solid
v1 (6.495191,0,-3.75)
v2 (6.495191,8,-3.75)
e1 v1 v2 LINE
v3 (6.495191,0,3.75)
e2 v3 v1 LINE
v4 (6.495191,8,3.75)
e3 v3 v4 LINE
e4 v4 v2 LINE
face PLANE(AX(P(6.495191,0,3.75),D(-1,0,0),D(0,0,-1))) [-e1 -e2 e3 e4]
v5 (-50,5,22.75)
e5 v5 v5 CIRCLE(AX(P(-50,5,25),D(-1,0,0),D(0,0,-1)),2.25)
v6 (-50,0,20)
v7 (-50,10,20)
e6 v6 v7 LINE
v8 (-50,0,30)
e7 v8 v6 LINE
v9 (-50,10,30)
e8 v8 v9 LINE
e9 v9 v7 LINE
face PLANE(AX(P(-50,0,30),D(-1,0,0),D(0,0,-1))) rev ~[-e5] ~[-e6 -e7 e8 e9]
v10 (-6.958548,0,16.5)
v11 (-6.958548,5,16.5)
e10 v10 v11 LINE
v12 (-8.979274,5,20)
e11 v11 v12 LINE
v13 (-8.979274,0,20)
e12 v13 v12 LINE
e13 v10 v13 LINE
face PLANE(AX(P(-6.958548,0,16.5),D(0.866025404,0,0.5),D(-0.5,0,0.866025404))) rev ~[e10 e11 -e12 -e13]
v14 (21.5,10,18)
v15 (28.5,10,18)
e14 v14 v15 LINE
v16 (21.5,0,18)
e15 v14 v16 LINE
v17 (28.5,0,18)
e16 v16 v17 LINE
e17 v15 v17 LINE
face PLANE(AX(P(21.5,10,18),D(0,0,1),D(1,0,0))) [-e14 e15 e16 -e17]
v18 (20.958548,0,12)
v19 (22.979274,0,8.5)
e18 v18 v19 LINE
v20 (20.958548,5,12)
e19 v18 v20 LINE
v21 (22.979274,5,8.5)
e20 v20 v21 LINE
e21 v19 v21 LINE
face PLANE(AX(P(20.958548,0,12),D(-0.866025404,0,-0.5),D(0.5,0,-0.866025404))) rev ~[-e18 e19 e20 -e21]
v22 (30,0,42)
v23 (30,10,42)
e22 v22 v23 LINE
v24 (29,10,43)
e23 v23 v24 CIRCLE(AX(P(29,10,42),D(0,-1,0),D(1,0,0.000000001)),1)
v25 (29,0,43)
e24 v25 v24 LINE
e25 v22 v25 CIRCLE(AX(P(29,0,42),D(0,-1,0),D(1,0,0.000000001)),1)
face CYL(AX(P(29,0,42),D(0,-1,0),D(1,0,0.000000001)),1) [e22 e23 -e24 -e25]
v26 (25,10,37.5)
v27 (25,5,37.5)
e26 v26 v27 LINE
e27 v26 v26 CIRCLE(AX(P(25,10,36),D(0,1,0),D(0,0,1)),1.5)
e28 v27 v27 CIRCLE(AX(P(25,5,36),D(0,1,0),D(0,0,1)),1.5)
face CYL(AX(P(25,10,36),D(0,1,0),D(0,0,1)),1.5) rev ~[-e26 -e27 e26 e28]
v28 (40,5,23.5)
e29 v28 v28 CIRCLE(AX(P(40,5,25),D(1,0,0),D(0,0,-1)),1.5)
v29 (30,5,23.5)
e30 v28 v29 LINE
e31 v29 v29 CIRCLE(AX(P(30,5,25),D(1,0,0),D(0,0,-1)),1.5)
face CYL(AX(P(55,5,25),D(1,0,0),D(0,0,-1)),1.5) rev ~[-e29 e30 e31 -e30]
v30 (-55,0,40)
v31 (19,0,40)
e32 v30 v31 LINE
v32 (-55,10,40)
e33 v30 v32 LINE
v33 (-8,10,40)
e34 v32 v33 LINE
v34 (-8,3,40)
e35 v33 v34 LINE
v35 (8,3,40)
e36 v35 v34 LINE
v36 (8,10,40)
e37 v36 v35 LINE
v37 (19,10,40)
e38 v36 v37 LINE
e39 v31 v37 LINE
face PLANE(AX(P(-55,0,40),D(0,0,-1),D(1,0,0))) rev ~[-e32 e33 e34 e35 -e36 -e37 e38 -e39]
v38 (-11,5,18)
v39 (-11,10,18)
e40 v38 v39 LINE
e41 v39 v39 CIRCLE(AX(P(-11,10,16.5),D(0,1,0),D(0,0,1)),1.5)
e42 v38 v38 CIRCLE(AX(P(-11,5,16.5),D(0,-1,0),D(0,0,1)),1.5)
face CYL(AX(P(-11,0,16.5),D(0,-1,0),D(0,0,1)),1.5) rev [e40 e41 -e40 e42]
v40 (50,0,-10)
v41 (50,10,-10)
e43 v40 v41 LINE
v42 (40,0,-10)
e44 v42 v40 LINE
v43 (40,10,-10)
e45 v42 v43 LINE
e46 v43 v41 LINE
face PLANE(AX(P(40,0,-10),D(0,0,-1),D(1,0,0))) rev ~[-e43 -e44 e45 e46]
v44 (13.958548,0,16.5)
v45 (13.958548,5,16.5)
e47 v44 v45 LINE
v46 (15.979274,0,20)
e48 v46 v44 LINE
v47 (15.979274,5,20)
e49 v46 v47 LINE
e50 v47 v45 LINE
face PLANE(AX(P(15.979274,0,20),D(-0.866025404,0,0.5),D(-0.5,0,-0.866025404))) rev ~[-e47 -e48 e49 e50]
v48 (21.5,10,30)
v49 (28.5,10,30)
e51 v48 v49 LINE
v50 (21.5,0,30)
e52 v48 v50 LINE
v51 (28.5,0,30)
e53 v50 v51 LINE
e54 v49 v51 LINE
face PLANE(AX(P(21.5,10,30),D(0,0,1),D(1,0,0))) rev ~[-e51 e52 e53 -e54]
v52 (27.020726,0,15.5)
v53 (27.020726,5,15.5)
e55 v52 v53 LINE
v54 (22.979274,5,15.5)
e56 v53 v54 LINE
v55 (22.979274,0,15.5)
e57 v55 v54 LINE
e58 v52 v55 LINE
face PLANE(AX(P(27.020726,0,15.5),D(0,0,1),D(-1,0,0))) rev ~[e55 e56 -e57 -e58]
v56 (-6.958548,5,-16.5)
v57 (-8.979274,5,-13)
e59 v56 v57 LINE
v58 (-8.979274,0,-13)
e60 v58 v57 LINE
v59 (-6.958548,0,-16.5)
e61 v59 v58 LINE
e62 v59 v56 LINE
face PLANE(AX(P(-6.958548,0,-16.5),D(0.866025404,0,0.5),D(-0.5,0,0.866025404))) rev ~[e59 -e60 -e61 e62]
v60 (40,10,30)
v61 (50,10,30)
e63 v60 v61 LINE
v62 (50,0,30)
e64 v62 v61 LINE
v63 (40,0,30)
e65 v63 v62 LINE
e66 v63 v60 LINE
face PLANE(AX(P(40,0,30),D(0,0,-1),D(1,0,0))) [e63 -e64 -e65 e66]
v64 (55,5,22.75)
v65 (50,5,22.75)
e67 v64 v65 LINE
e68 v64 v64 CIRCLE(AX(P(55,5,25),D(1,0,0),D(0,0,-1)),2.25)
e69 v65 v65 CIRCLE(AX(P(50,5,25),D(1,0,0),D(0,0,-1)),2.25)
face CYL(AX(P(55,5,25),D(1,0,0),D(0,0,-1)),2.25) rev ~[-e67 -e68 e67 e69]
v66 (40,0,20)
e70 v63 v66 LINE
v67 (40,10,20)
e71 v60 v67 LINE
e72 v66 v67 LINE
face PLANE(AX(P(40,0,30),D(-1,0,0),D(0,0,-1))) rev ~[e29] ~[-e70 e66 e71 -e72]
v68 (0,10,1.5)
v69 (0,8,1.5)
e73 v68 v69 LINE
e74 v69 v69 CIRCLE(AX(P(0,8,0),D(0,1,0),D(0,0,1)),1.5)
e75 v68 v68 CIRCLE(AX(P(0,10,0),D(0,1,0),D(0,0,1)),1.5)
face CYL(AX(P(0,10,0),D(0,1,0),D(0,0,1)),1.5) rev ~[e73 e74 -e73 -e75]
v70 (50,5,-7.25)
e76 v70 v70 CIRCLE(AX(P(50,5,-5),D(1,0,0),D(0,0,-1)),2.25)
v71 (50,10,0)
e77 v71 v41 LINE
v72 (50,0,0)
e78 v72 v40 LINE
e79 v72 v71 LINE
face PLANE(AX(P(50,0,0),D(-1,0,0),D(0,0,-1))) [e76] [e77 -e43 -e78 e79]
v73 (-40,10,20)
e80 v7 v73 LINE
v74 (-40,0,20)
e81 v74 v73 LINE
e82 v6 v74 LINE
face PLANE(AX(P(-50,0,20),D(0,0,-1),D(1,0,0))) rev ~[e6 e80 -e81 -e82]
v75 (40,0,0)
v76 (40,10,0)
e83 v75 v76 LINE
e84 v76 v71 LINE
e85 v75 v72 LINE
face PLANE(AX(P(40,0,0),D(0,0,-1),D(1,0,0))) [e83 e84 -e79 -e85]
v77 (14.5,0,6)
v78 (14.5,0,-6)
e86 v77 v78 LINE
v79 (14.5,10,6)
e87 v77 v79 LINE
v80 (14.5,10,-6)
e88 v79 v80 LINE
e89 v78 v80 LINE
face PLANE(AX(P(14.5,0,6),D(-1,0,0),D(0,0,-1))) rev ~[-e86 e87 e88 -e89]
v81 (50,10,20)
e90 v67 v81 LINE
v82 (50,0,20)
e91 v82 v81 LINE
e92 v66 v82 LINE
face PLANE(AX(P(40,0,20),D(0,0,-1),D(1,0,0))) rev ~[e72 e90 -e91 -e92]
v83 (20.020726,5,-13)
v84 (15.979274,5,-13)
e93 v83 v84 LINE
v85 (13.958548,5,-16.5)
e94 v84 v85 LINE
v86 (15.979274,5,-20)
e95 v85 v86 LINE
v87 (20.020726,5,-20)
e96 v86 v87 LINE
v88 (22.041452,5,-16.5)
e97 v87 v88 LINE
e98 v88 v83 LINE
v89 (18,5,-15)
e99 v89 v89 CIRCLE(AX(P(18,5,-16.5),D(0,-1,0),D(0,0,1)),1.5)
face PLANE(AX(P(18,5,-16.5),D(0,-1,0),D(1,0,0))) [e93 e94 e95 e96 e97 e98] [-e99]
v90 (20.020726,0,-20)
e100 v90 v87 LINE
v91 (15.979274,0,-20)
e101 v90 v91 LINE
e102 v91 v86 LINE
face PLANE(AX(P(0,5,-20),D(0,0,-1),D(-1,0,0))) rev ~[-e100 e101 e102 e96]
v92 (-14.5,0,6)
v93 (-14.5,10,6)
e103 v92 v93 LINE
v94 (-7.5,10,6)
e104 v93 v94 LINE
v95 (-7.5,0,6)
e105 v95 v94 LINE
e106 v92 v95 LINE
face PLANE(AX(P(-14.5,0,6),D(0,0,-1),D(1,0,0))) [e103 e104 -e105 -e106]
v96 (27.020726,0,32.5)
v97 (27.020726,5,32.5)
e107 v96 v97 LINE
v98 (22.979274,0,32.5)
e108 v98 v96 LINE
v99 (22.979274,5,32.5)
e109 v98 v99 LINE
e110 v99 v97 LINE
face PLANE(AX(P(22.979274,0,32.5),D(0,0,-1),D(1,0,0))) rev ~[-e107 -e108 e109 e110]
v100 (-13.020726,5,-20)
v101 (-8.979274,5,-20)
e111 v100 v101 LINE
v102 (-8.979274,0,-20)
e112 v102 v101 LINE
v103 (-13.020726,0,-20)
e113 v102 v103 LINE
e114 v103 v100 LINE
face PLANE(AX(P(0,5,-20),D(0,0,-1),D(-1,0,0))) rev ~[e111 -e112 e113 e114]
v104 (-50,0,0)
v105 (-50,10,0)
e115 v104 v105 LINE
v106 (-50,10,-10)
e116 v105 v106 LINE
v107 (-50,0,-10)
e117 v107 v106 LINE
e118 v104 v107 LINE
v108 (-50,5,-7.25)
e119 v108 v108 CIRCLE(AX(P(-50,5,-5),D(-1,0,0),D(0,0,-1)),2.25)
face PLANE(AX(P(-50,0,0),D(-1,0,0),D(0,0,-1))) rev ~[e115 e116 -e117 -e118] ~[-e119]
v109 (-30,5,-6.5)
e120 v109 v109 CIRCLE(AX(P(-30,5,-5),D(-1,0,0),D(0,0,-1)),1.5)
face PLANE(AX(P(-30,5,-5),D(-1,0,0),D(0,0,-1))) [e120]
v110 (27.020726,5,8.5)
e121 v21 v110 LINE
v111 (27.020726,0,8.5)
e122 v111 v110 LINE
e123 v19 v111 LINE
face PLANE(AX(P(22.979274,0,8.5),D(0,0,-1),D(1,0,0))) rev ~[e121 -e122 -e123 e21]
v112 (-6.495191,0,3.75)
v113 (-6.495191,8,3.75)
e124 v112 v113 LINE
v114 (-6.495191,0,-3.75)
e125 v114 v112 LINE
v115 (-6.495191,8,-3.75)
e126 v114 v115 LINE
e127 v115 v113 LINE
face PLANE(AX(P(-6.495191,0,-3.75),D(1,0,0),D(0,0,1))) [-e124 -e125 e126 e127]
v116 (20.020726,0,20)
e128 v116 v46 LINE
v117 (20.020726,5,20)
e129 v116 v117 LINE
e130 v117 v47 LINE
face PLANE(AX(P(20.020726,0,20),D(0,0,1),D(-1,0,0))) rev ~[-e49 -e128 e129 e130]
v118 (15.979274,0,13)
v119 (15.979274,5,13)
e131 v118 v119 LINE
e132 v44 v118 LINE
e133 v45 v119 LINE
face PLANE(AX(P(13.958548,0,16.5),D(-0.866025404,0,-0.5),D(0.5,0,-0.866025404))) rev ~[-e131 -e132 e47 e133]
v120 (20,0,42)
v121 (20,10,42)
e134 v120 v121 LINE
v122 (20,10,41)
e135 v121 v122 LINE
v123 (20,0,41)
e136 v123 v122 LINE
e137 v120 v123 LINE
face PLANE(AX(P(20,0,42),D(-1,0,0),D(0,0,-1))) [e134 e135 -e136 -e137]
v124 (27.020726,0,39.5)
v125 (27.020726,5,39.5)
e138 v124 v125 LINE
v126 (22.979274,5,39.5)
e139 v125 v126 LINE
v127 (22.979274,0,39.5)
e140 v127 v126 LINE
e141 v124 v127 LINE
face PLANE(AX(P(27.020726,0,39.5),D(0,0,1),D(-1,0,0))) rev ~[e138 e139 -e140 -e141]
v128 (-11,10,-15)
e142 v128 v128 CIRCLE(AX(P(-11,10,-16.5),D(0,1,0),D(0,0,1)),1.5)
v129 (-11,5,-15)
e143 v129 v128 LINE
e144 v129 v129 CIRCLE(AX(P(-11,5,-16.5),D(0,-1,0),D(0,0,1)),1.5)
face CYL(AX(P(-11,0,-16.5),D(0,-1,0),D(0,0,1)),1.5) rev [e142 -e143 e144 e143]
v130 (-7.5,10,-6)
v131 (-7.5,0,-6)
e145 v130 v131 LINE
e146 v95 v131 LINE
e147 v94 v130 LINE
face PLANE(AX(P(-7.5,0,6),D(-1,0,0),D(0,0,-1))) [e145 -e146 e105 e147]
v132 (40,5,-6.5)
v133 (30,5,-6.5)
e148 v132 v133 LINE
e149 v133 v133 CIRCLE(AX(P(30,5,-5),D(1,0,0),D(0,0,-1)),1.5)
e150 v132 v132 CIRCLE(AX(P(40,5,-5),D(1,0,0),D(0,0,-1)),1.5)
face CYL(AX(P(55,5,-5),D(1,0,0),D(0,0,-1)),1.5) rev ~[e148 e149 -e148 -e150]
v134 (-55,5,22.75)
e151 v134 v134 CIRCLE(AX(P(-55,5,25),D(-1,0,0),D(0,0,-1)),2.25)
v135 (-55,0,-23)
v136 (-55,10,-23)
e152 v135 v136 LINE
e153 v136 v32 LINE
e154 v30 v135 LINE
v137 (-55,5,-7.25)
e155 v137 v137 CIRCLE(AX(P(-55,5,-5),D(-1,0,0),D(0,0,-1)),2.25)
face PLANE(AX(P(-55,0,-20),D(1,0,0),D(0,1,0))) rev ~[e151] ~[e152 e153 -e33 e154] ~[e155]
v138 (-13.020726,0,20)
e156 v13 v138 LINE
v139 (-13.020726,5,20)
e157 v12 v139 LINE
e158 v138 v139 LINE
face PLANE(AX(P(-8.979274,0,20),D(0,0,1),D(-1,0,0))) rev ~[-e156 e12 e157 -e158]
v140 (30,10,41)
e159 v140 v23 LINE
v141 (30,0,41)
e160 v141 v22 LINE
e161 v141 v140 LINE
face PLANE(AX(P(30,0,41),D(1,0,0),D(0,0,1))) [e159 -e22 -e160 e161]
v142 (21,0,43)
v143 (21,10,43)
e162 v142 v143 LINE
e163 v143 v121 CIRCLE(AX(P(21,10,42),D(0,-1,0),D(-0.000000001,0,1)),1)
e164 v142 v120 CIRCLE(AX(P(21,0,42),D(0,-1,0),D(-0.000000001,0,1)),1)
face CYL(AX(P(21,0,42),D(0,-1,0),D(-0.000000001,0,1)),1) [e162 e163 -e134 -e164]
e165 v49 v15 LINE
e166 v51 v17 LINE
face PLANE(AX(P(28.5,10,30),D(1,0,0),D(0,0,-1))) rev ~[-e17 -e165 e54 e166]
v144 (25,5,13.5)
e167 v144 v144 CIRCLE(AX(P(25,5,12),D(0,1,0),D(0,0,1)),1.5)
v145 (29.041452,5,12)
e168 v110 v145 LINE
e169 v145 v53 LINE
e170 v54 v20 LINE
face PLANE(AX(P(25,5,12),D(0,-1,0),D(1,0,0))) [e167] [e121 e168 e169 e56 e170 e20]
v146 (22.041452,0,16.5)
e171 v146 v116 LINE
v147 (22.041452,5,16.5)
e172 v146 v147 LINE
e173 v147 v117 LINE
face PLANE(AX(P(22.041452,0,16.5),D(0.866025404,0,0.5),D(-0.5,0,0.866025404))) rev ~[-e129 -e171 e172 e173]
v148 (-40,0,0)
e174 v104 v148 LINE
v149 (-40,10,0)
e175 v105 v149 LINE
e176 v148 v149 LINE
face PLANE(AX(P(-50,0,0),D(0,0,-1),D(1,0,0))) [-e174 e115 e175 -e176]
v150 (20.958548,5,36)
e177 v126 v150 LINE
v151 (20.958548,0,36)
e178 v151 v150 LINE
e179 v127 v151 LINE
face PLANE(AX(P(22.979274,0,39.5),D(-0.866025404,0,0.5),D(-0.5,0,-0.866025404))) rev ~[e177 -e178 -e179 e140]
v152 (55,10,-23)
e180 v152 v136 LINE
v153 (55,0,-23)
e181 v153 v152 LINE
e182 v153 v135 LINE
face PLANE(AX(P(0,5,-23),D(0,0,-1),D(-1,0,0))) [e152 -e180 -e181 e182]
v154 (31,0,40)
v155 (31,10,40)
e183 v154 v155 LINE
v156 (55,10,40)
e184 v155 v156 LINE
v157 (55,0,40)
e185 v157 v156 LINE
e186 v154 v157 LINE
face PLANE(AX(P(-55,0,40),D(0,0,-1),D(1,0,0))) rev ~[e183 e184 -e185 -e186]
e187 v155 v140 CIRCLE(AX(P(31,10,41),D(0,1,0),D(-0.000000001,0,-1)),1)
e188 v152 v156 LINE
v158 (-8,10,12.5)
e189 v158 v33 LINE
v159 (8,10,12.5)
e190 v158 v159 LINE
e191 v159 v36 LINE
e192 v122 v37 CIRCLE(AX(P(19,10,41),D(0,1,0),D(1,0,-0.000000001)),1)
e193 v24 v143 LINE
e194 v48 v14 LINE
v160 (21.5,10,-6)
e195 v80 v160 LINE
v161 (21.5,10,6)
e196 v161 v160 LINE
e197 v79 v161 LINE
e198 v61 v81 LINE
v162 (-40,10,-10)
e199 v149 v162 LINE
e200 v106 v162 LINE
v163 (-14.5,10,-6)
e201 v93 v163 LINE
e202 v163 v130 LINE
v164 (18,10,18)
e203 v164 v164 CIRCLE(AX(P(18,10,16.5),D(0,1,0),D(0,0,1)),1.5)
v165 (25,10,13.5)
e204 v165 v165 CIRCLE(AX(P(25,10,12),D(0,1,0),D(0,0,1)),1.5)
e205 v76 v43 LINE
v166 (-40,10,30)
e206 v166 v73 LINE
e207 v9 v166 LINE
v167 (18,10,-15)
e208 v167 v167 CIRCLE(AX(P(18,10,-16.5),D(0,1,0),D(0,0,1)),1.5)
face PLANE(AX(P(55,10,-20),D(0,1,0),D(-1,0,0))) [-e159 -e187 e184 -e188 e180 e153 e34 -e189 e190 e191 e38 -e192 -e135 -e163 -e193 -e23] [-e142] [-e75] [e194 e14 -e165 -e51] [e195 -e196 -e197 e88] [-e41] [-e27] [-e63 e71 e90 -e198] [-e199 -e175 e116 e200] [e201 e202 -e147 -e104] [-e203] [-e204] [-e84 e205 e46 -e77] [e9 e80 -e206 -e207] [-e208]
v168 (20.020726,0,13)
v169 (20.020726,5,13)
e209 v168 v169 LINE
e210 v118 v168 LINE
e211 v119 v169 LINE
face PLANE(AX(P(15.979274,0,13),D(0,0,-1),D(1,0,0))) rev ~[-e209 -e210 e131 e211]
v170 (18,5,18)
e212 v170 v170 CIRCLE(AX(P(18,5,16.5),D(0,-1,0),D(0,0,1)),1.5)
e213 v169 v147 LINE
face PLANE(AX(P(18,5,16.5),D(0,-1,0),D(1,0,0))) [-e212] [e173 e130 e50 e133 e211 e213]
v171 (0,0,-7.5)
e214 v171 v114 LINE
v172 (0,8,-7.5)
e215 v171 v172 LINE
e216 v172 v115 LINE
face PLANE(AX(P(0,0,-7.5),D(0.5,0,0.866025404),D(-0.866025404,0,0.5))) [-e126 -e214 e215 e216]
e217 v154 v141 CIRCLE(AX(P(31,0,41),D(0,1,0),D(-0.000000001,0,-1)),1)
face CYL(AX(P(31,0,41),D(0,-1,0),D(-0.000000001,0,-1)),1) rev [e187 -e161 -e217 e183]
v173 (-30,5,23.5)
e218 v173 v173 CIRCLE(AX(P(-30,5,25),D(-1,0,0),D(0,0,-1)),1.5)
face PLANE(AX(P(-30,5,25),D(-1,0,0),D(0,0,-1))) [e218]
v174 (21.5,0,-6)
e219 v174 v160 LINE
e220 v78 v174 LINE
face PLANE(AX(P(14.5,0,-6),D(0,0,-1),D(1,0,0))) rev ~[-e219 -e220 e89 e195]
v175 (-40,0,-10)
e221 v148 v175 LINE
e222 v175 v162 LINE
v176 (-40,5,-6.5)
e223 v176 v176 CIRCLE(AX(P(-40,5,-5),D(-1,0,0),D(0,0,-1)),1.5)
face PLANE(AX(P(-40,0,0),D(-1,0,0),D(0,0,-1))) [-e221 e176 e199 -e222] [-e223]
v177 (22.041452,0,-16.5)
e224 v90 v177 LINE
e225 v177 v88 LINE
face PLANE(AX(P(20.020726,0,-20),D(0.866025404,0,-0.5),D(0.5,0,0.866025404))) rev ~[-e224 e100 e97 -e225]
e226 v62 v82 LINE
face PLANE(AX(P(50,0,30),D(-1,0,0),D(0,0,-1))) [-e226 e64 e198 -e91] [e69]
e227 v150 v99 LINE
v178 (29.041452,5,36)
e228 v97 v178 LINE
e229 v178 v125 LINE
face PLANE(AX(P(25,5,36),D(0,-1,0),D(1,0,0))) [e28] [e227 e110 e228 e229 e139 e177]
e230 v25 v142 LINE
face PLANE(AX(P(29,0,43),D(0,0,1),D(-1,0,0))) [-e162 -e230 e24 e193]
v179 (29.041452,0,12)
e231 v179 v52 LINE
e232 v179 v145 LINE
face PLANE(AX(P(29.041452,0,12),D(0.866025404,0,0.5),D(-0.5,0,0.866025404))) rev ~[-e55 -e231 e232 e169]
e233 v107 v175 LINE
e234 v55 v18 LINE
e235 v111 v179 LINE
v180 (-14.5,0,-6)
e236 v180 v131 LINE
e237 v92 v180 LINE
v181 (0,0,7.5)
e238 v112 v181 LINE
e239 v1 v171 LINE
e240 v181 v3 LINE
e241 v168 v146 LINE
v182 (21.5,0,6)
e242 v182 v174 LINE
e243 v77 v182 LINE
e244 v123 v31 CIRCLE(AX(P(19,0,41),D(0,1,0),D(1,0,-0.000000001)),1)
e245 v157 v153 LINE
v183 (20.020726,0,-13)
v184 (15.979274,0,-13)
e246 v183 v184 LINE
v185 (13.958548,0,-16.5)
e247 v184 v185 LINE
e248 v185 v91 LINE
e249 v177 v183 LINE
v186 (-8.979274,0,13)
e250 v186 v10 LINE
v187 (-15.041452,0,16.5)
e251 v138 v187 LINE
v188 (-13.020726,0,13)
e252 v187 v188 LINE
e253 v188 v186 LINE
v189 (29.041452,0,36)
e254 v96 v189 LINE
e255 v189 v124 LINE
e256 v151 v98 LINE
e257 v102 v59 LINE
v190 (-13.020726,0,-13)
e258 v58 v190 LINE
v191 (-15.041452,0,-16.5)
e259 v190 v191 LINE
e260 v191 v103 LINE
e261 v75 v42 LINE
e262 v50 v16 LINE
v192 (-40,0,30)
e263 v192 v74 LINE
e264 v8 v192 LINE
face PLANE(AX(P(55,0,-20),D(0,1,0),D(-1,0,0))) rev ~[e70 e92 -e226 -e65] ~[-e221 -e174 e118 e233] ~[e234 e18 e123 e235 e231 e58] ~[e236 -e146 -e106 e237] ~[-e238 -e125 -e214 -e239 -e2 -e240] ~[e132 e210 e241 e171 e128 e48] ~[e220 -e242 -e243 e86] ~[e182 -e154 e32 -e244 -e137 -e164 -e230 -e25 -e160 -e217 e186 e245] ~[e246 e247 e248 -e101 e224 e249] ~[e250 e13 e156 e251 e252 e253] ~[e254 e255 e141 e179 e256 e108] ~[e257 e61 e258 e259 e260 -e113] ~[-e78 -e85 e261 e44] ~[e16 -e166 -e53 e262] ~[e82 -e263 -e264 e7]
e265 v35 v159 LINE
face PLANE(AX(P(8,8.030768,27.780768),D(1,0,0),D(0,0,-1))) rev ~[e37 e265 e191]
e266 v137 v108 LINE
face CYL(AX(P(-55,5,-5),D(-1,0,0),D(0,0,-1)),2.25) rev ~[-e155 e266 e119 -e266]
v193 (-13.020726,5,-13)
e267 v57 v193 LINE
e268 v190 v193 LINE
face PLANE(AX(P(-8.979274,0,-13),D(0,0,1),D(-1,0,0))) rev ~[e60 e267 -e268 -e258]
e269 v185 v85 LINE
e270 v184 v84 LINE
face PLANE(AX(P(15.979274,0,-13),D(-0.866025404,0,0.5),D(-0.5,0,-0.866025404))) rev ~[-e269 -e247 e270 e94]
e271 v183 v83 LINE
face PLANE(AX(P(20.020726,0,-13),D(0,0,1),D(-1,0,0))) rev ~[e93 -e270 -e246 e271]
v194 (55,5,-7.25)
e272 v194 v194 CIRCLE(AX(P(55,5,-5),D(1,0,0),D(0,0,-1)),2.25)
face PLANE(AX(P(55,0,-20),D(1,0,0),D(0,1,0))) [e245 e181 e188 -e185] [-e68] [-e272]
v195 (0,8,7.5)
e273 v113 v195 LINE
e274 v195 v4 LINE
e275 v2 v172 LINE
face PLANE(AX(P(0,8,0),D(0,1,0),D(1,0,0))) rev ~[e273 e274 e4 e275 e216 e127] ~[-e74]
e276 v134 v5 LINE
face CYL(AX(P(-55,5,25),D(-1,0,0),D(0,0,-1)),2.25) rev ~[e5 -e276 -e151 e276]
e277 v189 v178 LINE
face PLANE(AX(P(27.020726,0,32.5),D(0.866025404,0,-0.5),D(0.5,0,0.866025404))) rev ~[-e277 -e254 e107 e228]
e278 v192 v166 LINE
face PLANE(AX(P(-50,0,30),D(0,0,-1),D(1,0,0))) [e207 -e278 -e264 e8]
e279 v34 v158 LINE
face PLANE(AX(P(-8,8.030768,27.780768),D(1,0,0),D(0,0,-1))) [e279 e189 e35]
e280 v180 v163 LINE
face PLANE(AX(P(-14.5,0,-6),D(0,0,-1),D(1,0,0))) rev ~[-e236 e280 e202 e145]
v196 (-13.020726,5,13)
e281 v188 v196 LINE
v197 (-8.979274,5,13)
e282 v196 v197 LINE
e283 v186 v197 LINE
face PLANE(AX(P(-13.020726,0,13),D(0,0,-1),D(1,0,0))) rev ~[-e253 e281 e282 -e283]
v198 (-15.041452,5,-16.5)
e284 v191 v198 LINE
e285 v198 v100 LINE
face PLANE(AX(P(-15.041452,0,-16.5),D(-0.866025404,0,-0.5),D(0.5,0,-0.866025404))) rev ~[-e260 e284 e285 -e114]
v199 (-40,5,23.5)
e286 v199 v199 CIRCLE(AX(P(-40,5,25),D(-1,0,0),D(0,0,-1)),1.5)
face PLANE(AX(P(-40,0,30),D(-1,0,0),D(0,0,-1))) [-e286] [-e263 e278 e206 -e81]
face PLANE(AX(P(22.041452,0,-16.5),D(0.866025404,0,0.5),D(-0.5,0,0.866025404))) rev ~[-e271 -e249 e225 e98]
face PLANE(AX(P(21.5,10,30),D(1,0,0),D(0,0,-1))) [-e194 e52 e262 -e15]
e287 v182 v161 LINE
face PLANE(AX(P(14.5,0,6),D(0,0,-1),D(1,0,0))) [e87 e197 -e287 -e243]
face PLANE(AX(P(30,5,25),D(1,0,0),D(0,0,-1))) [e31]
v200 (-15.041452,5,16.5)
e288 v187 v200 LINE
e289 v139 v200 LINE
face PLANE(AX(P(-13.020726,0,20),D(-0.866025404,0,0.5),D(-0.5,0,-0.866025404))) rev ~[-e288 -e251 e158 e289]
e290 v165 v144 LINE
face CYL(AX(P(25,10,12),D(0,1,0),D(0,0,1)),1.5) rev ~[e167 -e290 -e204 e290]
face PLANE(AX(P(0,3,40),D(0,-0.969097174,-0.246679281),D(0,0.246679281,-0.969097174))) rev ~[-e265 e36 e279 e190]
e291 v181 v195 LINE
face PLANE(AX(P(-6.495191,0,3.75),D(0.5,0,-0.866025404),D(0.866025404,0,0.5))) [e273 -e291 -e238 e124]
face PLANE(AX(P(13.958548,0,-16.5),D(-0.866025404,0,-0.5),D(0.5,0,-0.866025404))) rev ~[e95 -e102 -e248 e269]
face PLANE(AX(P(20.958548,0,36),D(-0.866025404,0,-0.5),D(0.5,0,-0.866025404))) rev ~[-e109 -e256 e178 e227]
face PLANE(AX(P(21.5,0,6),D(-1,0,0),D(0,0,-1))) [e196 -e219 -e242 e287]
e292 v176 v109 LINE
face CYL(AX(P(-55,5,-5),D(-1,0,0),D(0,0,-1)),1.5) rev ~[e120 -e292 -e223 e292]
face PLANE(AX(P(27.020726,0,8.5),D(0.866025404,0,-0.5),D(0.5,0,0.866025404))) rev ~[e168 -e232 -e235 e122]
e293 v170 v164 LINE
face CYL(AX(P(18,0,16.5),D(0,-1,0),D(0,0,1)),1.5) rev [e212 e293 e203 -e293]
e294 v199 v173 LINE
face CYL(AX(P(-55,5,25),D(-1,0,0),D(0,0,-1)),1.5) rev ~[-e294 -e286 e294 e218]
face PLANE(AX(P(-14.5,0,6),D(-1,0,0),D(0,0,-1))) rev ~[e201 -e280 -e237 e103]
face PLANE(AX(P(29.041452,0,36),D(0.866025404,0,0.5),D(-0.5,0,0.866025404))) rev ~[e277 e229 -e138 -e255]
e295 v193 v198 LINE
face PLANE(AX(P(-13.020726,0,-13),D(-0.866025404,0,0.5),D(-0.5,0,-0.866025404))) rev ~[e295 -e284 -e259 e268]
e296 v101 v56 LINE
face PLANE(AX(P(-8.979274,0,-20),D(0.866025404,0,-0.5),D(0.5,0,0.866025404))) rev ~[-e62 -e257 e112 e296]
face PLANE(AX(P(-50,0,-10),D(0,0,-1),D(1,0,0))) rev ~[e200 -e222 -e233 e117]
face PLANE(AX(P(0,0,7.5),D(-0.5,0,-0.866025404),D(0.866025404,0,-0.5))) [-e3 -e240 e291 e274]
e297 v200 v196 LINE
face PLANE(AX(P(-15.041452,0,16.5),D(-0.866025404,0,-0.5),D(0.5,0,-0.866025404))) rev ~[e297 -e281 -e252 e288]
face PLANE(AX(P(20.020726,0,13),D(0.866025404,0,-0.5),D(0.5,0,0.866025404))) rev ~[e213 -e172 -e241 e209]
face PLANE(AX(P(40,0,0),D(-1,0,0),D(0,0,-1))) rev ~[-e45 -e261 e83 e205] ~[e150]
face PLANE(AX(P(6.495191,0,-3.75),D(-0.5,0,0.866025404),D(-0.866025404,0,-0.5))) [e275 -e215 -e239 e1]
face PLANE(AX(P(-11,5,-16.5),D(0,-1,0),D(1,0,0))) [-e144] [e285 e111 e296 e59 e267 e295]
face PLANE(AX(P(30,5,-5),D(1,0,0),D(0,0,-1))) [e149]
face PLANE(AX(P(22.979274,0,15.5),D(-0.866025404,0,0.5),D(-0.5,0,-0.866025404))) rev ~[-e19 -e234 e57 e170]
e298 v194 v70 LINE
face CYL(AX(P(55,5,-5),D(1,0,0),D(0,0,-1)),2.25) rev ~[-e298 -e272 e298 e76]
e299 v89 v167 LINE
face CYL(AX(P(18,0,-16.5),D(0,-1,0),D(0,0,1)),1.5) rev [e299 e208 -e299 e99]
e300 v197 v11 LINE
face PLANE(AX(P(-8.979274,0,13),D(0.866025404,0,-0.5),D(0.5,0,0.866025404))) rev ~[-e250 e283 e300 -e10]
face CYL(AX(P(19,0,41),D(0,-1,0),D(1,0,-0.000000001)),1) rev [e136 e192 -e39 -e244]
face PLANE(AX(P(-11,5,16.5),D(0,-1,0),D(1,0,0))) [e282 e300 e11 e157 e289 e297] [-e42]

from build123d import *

# Parameters (mm, degrees)
CROQUIS1_W              = 80
CROQUIS1_H              = 60
CROQUIS1_R              = 1.5
CROQUIS1_W_2            = 7
CROQUIS1_H_2            = 25
CROQUIS1_W_3            = 10
CROQUIS1_H_3            = 20
CROQUIS1_H_4            = 10
CROQUIS1_W_4            = 5
CROQUIS1_H_5            = 6.5
SALIENTE_EXTRUIR1_DEPTH = 10
CORTAR_EXTRUIR1_DEPTH   = 5
CROQUIS3_R              = 1.5
CORTAR_EXTRUIR2_DEPTH   = 25
CROQUIS6_R              = 1.5
CORTAR_EXTRUIR3_DEPTH   = 25
CROQUIS8_W              = 15
CROQUIS8_H              = 17.838651154
CROQUIS8_R              = 1.5
SALIENTE_EXTRUIR2_DEPTH = 2
CORTAR_EXTRUIR4_START   = -55
CORTAR_EXTRUIR4_DEPTH   = 8
CROQUIS10_R             = 1.5
CROQUIS10_W             = 7
CROQUIS10_H             = 12
CORTAR_EXTRUIR5_DEPTH   = 16
CROQUIS12_W             = 110
CROQUIS12_H             = 10
SALIENTE_EXTRUIR3_DEPTH = 3
CORTAR_EXTRUIR6_DEPTH   = 5
SALIENTE_EXTRUIR4_DEPTH = 10
CROQUIS15_R             = 2.25
CORTAR_EXTRUIR7_DEPTH   = 10
CROQUIS16_R             = 2.25
CORTAR_EXTRUIR8_DEPTH   = 10


with BuildPart() as part:
    # Croquis1 → Saliente-Extruir1 (new body)
    with BuildSketch(Plane(origin=(0, 0, 0), x_dir=(1, 0, 0), z_dir=(0, 1, 0))):
        with Locations((0, -10)):
            Rectangle(CROQUIS1_W, CROQUIS1_H)
        with Locations(Location((18, -16.5, 0), (0, 0, 270))):
            Circle(CROQUIS1_R, mode=Mode.SUBTRACT)
        with Locations(Location((-11, -16.5, 0), (0, 0, 270))):
            Circle(CROQUIS1_R, mode=Mode.SUBTRACT)
        with Locations(Location((18, 16.5, 0), (0, 0, 270))):
            Circle(CROQUIS1_R, mode=Mode.SUBTRACT)
        with Locations(Location((-11, 16.5, 0), (0, 0, 270))):
            Circle(CROQUIS1_R, mode=Mode.SUBTRACT)
        with Locations((18, 0)):
            Rectangle(CROQUIS1_W_2, CROQUIS1_H_2, mode=Mode.SUBTRACT)
        Polygon((6.495190528, 3.75), (0, 7.5), (-6.495190528, 3.75), (-6.495190528, -3.75), (0, -7.5), (6.495190528, -3.75), align=None, mode=Mode.SUBTRACT)
        with Locations((-11, 0)):
            Rectangle(CROQUIS1_W_2, CROQUIS1_H_2, mode=Mode.SUBTRACT)
        with Locations((-45, -10)):
            Rectangle(CROQUIS1_W_3, CROQUIS1_H_3)
        with Locations((-45, -35)):
            Rectangle(CROQUIS1_W_3, CROQUIS1_H_4)
        with Locations((-52.5, -10)):
            Rectangle(CROQUIS1_W_4, CROQUIS1_H)
        with Locations((-45, 15)):
            Rectangle(CROQUIS1_W_3, CROQUIS1_H_4)
        with Locations((45, 15)):
            Rectangle(CROQUIS1_W_3, CROQUIS1_H_4)
        with Locations((52.5, -10)):
            Rectangle(CROQUIS1_W_4, CROQUIS1_H)
        with Locations((45, -10)):
            Rectangle(CROQUIS1_W_3, CROQUIS1_H_3)
        with Locations((45, -35)):
            Rectangle(CROQUIS1_W_3, CROQUIS1_H_4)
        with Locations((-11, 9.25)):
            Rectangle(CROQUIS1_W_2, CROQUIS1_H_5)
        with Locations((-11, -9.25)):
            Rectangle(CROQUIS1_W_2, CROQUIS1_H_5)
        with Locations((18, 9.25)):
            Rectangle(CROQUIS1_W_2, CROQUIS1_H_5)
        with Locations((18, -9.25)):
            Rectangle(CROQUIS1_W_2, CROQUIS1_H_5)
    extrude(amount=SALIENTE_EXTRUIR1_DEPTH)

    # Croquis2 → Cortar-Extruir1 (cut)
    with BuildSketch(Plane.XZ):
        Polygon((-6.958548116, 16.5), (-8.979274058, 20), (-13.020725942, 20), (-15.041451884, 16.5), (-13.020725942, 13), (-8.979274058, 13), align=None)
        Polygon((22.041451884, 16.5), (20.020725942, 20), (15.979274058, 20), (13.958548116, 16.5), (15.979274058, 13), (20.020725942, 13), align=None)
        Polygon((-6.958548116, -16.5), (-8.979274058, -13), (-13.020725942, -13), (-15.041451884, -16.5), (-13.020725942, -20), (-8.979274058, -20), align=None)
        Polygon((22.041451884, -16.5), (20.020725942, -13), (15.979274058, -13), (13.958548116, -16.5), (15.979274058, -20), (20.020725942, -20), align=None)
    extrude(amount=-CORTAR_EXTRUIR1_DEPTH, mode=Mode.SUBTRACT)

    # Croquis3 → Cortar-Extruir2 (cut)
    with BuildSketch(Plane(origin=(55, 0, 0), x_dir=(0, 0, -1), z_dir=(1, 0, 0))):
        with Locations((-25, 5)):
            Circle(CROQUIS3_R)
        with Locations((5, 5)):
            Circle(CROQUIS3_R)
    extrude(amount=-CORTAR_EXTRUIR2_DEPTH, mode=Mode.SUBTRACT)

    # Croquis6 → Cortar-Extruir3 (cut)
    with BuildSketch(Plane.ZY.offset(55)):
        with Locations(Location((-5, 5, 0), (0, 0, 180))):
            Circle(CROQUIS6_R)
        with Locations(Location((25, 5, 0), (0, 0, 180))):
            Circle(CROQUIS6_R)
    extrude(amount=-CORTAR_EXTRUIR3_DEPTH, mode=Mode.SUBTRACT)

    # Croquis8 → Saliente-Extruir2 (add)
    with BuildSketch(Plane(origin=(0, 10, 0), x_dir=(1, 0, 0), z_dir=(0, 1, 0))):
        Rectangle(CROQUIS8_W, CROQUIS8_H)
        with Locations(Location((0, 0, 0), (0, 0, 270))):
            Circle(CROQUIS8_R, mode=Mode.SUBTRACT)
    extrude(amount=-SALIENTE_EXTRUIR2_DEPTH)

    # Croquis9 → Cortar-Extruir4 (cut, symmetric)
    with BuildSketch(Plane(origin=(55, 0, 0), x_dir=(0, 0, -1), z_dir=(1, 0, 0)).offset(CORTAR_EXTRUIR4_START)):
        Polygon((-40, 3), (-12.5, 10), (-40, 10), align=None)
    extrude(amount=CORTAR_EXTRUIR4_DEPTH, both=True, mode=Mode.SUBTRACT)

    # Croquis10 → Cortar-Extruir5 (cut)
    with BuildSketch(Plane(origin=(0, 10, 0), x_dir=(1, 0, 0), z_dir=(0, 1, 0))):
        with Locations(Location((25, -12, 0), (0, 0, 270))):
            Circle(CROQUIS10_R)
        with Locations(Location((25, -36, 0), (0, 0, 270))):
            Circle(CROQUIS10_R)
        with Locations((25, -24)):
            Rectangle(CROQUIS10_W, CROQUIS10_H)
    extrude(amount=-CORTAR_EXTRUIR5_DEPTH, mode=Mode.SUBTRACT)

    # Croquis12 → Saliente-Extruir3 (add)
    with BuildSketch(Plane(origin=(0, 0, -20), x_dir=(-1, 0, 0), z_dir=(0, 0, -1))):
        with Locations((0, 5)):
            Rectangle(CROQUIS12_W, CROQUIS12_H)
    extrude(amount=SALIENTE_EXTRUIR3_DEPTH)

    # Croquis13 → Cortar-Extruir6 (cut)
    with BuildSketch(Plane.XZ):
        Polygon((29.041451884, 12), (27.020725942, 15.5), (22.979274058, 15.5), (20.958548116, 12), (22.979274058, 8.5), (27.020725942, 8.5), align=None)
        Polygon((29.041451884, 36), (27.020725942, 39.5), (22.979274058, 39.5), (20.958548116, 36), (22.979274058, 32.5), (27.020725942, 32.5), align=None)
    extrude(amount=-CORTAR_EXTRUIR6_DEPTH, mode=Mode.SUBTRACT)

    # Croquis14 → Saliente-Extruir4 (add)
    with BuildSketch(Plane.XZ):
        with BuildLine():
            Line((30, 41), (30, 42))
            ThreePointArc((30, 42), (29.707106781, 42.707106781), (29, 43))
            Line((29, 43), (21, 43))
            ThreePointArc((21, 43), (20.292893219, 42.707106781), (20, 42))
            Line((20, 42), (20, 41))
            ThreePointArc((20, 41), (19.707106781, 40.292893219), (19, 40))
            Line((19, 40), (31, 40))
            ThreePointArc((31, 40), (30.292893219, 40.292893219), (30, 41))
        make_face()
    extrude(amount=-SALIENTE_EXTRUIR4_DEPTH)

    # Croquis15 → Cortar-Extruir7 (cut)
    with BuildSketch(Plane(origin=(55, 0, 0), x_dir=(0, 0, -1), z_dir=(1, 0, 0))):
        with Locations((-25, 5)):
            Circle(CROQUIS15_R)
        with Locations((5, 5)):
            Circle(CROQUIS15_R)
    extrude(amount=-CORTAR_EXTRUIR7_DEPTH, mode=Mode.SUBTRACT)

    # Croquis16 → Cortar-Extruir8 (cut)
    with BuildSketch(Plane.ZY.offset(55)):
        with Locations(Location((-5, 5, 0), (0, 0, 180))):
            Circle(CROQUIS16_R)
        with Locations(Location((25, 5, 0), (0, 0, 180))):
            Circle(CROQUIS16_R)
    extrude(amount=-CORTAR_EXTRUIR8_DEPTH, mode=Mode.SUBTRACT)


solid = part.part
